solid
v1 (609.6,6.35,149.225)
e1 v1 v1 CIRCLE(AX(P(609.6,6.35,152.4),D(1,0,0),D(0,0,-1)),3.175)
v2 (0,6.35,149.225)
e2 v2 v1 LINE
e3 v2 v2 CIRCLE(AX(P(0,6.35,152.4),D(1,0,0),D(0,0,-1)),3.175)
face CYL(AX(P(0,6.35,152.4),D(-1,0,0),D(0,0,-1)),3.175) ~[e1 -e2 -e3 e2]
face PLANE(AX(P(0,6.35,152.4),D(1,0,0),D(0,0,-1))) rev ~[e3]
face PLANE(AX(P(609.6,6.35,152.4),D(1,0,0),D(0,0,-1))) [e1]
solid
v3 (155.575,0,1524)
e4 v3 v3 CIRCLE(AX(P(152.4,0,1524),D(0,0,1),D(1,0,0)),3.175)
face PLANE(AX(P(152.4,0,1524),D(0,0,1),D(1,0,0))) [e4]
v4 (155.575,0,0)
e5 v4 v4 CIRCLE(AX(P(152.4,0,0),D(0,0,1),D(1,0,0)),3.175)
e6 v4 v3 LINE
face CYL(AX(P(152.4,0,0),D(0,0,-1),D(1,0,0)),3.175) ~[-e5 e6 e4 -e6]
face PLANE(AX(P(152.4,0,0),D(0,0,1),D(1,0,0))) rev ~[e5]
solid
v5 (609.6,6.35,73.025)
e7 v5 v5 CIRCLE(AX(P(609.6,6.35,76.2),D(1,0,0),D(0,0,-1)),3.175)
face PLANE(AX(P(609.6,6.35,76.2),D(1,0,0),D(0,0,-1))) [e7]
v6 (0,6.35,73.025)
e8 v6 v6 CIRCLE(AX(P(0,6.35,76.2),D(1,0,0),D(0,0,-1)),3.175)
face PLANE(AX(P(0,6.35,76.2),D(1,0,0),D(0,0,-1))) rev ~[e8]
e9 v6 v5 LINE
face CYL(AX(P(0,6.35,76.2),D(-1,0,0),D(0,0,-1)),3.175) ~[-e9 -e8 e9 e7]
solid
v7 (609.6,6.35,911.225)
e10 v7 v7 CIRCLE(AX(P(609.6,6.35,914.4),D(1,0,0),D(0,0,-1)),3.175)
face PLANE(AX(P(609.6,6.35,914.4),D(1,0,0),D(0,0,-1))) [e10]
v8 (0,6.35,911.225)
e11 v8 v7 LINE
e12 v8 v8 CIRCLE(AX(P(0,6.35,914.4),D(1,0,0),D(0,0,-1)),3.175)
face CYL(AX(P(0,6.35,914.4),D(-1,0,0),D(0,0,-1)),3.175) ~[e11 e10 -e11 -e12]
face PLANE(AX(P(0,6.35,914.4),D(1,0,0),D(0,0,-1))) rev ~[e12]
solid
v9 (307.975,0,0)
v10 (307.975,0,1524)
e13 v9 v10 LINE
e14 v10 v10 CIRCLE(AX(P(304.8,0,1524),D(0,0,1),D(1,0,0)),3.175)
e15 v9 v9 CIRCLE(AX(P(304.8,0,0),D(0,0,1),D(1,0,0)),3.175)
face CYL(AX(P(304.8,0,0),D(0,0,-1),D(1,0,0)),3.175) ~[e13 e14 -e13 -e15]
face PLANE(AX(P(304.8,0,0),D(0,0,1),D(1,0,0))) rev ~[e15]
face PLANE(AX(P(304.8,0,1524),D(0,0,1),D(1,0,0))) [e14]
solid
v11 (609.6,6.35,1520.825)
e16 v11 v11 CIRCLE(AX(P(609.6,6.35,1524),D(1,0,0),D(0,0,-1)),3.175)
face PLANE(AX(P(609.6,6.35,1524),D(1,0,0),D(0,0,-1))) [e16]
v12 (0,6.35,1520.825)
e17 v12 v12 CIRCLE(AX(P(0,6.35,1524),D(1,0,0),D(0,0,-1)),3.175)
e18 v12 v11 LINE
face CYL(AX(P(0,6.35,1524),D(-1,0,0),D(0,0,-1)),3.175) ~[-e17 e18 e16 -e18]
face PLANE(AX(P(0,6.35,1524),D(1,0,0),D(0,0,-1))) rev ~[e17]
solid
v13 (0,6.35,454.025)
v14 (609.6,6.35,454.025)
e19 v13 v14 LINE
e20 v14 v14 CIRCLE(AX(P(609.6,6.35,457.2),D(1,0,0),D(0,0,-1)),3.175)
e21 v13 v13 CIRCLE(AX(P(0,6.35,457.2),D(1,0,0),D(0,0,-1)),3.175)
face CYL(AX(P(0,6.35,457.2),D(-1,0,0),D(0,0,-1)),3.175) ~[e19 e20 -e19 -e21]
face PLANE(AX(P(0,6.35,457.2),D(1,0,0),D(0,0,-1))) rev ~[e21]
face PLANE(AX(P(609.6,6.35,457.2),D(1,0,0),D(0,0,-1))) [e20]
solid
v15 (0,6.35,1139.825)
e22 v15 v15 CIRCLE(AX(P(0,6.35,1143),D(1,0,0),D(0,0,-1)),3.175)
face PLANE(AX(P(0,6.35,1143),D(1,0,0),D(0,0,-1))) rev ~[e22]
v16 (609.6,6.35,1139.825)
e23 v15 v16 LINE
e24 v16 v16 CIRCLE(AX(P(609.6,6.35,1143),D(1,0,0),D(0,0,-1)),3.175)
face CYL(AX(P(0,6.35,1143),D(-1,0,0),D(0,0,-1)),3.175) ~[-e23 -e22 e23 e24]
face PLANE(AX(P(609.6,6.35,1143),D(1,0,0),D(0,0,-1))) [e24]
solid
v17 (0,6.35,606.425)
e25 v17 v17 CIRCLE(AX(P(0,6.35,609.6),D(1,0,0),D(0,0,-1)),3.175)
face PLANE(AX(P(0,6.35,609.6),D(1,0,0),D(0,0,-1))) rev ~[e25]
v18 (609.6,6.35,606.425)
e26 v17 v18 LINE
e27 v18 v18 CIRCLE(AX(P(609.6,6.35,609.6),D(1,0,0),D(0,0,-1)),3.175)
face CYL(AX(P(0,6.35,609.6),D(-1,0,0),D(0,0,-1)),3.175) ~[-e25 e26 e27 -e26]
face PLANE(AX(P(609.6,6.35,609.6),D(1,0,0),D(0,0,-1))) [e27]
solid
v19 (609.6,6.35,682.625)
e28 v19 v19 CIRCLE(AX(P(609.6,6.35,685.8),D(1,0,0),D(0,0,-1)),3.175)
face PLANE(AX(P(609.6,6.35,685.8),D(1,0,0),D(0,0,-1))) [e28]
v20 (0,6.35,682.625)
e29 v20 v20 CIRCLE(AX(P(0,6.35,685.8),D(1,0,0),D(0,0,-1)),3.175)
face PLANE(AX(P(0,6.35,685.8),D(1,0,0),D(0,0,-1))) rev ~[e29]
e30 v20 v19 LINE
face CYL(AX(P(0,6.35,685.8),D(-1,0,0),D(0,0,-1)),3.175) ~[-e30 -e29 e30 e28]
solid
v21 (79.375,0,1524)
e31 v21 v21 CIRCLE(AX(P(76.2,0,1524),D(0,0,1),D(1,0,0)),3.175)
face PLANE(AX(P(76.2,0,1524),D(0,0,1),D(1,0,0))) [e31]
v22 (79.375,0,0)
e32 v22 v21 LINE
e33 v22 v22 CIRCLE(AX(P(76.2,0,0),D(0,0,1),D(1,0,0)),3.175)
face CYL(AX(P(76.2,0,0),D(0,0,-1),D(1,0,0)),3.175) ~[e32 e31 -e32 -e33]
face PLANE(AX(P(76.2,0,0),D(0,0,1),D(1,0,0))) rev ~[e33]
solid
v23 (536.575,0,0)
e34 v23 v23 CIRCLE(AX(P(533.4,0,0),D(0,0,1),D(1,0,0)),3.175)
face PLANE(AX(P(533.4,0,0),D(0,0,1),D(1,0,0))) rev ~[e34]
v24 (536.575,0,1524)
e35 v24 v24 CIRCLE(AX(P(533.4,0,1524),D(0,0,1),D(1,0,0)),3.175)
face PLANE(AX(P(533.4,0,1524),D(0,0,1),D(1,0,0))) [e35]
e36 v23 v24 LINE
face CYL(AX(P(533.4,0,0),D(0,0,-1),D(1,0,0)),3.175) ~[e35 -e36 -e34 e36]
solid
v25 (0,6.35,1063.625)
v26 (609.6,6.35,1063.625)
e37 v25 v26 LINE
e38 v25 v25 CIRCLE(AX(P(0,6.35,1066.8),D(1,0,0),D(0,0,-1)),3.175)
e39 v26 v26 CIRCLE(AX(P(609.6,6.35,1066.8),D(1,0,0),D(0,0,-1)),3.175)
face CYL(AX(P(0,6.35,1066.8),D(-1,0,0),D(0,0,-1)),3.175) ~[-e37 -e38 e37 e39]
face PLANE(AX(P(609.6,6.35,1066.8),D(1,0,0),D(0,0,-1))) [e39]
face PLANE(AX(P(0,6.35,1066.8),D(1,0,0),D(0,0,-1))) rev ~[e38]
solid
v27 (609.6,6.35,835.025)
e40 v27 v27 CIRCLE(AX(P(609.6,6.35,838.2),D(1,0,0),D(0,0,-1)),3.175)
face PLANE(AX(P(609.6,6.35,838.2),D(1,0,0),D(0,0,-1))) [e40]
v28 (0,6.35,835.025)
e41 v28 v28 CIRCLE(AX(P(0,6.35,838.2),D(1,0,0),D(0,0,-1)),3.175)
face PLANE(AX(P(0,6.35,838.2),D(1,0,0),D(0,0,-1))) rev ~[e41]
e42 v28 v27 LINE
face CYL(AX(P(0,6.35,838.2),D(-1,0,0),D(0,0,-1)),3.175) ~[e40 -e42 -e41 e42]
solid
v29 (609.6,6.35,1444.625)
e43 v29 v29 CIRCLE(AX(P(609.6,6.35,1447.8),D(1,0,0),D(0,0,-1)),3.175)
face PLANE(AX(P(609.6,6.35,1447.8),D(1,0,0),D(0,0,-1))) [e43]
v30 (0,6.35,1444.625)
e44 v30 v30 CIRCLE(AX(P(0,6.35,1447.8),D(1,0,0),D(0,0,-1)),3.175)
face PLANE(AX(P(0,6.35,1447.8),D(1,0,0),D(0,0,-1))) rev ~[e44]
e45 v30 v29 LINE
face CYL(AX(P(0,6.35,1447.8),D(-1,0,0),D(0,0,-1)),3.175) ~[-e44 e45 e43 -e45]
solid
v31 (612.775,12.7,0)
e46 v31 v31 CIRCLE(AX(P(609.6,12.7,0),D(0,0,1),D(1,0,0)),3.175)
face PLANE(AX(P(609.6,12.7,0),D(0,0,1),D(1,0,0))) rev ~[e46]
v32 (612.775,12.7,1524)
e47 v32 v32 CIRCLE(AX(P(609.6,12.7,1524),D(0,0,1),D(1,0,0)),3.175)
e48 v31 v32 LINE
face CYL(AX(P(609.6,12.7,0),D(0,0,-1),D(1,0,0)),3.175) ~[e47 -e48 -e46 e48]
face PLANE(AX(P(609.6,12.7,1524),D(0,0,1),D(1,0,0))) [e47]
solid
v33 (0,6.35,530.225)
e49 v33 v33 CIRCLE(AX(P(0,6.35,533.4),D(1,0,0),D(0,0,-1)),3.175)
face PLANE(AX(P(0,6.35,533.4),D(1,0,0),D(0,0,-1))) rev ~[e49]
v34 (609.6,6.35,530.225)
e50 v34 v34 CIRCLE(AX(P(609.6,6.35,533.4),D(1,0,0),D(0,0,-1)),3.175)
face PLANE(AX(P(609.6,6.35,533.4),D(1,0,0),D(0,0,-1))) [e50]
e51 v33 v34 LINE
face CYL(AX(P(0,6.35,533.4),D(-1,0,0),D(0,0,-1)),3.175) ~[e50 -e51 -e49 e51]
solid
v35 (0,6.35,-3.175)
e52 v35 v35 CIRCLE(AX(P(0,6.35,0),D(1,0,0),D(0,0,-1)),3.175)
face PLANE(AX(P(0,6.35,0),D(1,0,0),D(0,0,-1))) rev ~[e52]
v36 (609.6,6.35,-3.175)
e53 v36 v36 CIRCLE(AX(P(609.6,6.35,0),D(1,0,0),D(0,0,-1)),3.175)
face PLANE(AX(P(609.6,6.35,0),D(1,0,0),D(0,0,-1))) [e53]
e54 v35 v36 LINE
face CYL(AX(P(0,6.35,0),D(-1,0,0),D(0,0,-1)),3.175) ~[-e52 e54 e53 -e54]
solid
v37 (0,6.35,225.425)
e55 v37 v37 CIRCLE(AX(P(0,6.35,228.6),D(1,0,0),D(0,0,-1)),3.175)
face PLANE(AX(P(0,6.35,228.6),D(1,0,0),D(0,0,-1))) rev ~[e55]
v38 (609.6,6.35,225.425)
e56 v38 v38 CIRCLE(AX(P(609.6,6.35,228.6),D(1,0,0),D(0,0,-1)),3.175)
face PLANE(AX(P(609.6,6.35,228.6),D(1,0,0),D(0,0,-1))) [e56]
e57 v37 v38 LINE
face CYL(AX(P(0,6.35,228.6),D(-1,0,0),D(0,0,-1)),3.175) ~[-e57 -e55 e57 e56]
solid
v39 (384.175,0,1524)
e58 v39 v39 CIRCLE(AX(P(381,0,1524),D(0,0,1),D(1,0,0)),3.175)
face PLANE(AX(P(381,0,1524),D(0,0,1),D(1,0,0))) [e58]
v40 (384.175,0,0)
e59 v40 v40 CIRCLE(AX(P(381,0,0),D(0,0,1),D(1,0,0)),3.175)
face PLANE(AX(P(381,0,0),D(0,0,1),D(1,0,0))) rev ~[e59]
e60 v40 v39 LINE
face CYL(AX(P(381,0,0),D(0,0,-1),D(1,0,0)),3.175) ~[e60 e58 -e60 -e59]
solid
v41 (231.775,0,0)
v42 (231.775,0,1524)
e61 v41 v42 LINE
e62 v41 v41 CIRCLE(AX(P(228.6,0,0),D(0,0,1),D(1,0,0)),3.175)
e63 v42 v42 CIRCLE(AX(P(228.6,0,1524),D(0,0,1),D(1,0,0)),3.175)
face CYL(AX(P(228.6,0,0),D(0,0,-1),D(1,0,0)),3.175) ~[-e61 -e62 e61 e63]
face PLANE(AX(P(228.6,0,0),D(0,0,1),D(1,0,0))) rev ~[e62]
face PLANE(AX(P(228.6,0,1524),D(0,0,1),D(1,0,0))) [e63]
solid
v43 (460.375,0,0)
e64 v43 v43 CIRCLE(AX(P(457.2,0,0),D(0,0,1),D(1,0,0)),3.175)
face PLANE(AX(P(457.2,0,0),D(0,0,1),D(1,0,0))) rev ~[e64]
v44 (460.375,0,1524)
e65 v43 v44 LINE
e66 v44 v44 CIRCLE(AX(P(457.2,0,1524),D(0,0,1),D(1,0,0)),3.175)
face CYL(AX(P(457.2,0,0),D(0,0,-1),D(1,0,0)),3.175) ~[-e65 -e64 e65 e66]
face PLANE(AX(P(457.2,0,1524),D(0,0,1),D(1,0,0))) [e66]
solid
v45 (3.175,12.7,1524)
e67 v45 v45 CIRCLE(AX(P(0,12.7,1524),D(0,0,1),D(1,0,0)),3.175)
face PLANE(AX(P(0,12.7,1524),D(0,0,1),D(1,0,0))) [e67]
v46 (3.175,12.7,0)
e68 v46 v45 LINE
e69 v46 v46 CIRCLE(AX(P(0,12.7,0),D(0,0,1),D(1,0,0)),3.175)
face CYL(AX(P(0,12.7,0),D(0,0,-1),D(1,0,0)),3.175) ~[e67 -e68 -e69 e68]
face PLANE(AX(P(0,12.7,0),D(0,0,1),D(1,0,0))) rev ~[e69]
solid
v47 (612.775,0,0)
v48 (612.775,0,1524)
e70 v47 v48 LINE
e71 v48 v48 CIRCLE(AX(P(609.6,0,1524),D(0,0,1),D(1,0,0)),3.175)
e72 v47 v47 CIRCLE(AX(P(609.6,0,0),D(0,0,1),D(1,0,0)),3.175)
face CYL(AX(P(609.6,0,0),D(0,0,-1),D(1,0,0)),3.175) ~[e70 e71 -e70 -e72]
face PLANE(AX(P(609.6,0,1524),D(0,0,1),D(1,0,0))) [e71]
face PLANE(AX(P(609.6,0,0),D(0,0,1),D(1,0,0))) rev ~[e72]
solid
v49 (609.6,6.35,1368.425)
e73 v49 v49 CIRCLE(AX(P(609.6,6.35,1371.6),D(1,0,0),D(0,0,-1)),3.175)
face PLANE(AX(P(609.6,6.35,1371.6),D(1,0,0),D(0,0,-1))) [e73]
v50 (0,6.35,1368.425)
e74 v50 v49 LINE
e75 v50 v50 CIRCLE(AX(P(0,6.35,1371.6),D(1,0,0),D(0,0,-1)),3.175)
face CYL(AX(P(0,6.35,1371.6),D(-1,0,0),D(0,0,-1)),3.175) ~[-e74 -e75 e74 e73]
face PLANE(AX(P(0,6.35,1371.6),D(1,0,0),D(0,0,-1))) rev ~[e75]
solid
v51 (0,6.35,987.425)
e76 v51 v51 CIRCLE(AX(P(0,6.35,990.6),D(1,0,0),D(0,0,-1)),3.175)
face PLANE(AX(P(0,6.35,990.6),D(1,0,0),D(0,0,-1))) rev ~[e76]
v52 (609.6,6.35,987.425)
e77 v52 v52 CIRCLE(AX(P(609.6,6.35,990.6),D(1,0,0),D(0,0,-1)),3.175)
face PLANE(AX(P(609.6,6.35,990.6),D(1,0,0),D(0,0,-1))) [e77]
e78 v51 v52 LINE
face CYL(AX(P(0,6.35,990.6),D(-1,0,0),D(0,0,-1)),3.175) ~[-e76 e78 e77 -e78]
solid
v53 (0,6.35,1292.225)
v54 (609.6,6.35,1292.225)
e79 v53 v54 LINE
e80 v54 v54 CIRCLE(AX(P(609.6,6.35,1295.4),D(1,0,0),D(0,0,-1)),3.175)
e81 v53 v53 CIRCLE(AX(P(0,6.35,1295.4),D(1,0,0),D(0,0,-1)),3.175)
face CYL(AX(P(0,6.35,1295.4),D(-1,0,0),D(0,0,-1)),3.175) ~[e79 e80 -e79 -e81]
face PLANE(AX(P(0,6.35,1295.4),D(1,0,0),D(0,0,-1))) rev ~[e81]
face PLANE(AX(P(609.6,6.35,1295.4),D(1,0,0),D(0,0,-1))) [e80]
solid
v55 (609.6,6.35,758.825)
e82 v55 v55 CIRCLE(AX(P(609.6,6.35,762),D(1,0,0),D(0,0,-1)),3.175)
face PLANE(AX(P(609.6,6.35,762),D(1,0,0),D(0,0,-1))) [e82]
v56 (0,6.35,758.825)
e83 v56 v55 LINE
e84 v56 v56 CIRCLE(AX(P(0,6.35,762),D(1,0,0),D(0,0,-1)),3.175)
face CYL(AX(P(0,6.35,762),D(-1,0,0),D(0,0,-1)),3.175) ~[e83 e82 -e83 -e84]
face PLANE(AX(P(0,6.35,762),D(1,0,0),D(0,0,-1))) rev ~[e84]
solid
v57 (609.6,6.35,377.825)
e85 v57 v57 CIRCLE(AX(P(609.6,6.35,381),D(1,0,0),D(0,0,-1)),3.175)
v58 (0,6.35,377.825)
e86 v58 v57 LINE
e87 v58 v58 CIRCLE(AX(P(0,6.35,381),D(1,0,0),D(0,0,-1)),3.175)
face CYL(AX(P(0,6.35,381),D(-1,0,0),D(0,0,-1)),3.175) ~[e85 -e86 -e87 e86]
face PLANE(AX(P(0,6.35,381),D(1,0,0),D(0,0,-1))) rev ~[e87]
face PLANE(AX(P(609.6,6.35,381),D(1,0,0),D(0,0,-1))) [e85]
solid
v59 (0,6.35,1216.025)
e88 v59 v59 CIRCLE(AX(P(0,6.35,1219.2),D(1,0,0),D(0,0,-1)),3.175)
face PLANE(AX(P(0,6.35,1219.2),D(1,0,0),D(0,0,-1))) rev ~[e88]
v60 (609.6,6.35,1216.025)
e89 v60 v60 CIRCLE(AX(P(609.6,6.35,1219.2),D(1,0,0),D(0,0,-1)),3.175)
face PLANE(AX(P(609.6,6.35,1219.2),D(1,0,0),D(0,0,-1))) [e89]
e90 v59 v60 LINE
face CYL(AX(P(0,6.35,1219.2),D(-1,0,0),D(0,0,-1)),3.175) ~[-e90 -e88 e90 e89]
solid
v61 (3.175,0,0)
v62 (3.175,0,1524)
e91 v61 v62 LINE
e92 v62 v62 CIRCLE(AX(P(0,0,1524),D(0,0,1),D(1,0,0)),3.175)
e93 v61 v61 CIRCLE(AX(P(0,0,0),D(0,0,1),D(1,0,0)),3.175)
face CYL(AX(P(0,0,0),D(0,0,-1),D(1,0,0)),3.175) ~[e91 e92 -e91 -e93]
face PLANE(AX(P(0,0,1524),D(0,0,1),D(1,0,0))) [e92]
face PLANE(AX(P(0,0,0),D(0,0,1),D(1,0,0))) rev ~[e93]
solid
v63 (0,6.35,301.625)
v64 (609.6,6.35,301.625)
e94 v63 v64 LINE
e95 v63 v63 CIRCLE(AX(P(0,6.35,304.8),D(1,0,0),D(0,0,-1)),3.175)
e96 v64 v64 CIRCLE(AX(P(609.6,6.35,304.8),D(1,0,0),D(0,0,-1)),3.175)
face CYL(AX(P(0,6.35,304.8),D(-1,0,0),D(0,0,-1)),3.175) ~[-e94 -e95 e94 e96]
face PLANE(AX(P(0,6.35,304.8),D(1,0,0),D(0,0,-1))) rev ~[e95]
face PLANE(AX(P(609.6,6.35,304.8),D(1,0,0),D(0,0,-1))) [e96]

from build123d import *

# Parameters (mm, degrees)
SKETCH1_R              = 3.175
BOSS_EXTRUDE1_DEPTH    = 1524
BOSS_EXTRUDE1_2_DEPTH  = 1524
BOSS_EXTRUDE1_3_DEPTH  = 1524
BOSS_EXTRUDE1_4_DEPTH  = 1524
BOSS_EXTRUDE1_5_DEPTH  = 1524
BOSS_EXTRUDE1_6_DEPTH  = 1524
BOSS_EXTRUDE1_7_DEPTH  = 1524
BOSS_EXTRUDE1_8_DEPTH  = 1524
BOSS_EXTRUDE1_9_DEPTH  = 1524
BOSS_EXTRUDE1_10_DEPTH = 1524
BOSS_EXTRUDE1_11_DEPTH = 1524
SKETCH2_R              = 3.175
BOSS_EXTRUDE2_DEPTH    = 609.6
BOSS_EXTRUDE2_2_DEPTH  = 609.6
BOSS_EXTRUDE2_3_DEPTH  = 609.6
BOSS_EXTRUDE2_4_DEPTH  = 609.6
BOSS_EXTRUDE2_5_DEPTH  = 609.6
BOSS_EXTRUDE2_6_DEPTH  = 609.6
BOSS_EXTRUDE2_7_DEPTH  = 609.6
BOSS_EXTRUDE2_8_DEPTH  = 609.6
BOSS_EXTRUDE2_9_DEPTH  = 609.6
BOSS_EXTRUDE2_10_DEPTH = 609.6
BOSS_EXTRUDE2_11_DEPTH = 609.6
BOSS_EXTRUDE2_12_DEPTH = 609.6
BOSS_EXTRUDE2_13_DEPTH = 609.6
BOSS_EXTRUDE2_14_DEPTH = 609.6
BOSS_EXTRUDE2_15_DEPTH = 609.6
BOSS_EXTRUDE2_16_DEPTH = 609.6
BOSS_EXTRUDE2_17_DEPTH = 609.6
BOSS_EXTRUDE2_18_DEPTH = 609.6
BOSS_EXTRUDE2_19_DEPTH = 609.6
BOSS_EXTRUDE2_20_DEPTH = 609.6
BOSS_EXTRUDE2_21_DEPTH = 609.6


with BuildPart() as part:
    # Sketch1 → Boss-Extrude1 (new body)
    with BuildSketch(Plane.XY):
        Circle(SKETCH1_R)
    extrude(amount=BOSS_EXTRUDE1_DEPTH)


with BuildPart() as body_2:
    # Sketch1 → Boss-Extrude1 2 (new body)
    with BuildSketch(Plane.XY):
        with Locations((0, 12.7)):
            Circle(SKETCH1_R)
    extrude(amount=BOSS_EXTRUDE1_2_DEPTH)


with BuildPart() as body_3:
    # Sketch1 → Boss-Extrude1 3 (new body)
    with BuildSketch(Plane.XY):
        with Locations((76.2, 0)):
            Circle(SKETCH1_R)
    extrude(amount=BOSS_EXTRUDE1_3_DEPTH)


with BuildPart() as body_4:
    # Sketch1 → Boss-Extrude1 4 (new body)
    with BuildSketch(Plane.XY):
        with Locations((152.4, 0)):
            Circle(SKETCH1_R)
    extrude(amount=BOSS_EXTRUDE1_4_DEPTH)


with BuildPart() as body_5:
    # Sketch1 → Boss-Extrude1 5 (new body)
    with BuildSketch(Plane.XY):
        with Locations((228.6, 0)):
            Circle(SKETCH1_R)
    extrude(amount=BOSS_EXTRUDE1_5_DEPTH)


with BuildPart() as body_6:
    # Sketch1 → Boss-Extrude1 6 (new body)
    with BuildSketch(Plane.XY):
        with Locations((304.8, 0)):
            Circle(SKETCH1_R)
    extrude(amount=BOSS_EXTRUDE1_6_DEPTH)


with BuildPart() as body_7:
    # Sketch1 → Boss-Extrude1 7 (new body)
    with BuildSketch(Plane.XY):
        with Locations((381, 0)):
            Circle(SKETCH1_R)
    extrude(amount=BOSS_EXTRUDE1_7_DEPTH)


with BuildPart() as body_8:
    # Sketch1 → Boss-Extrude1 8 (new body)
    with BuildSketch(Plane.XY):
        with Locations((457.2, 0)):
            Circle(SKETCH1_R)
    extrude(amount=BOSS_EXTRUDE1_8_DEPTH)


with BuildPart() as body_9:
    # Sketch1 → Boss-Extrude1 9 (new body)
    with BuildSketch(Plane.XY):
        with Locations((533.4, 0)):
            Circle(SKETCH1_R)
    extrude(amount=BOSS_EXTRUDE1_9_DEPTH)


with BuildPart() as body_10:
    # Sketch1 → Boss-Extrude1 10 (new body)
    with BuildSketch(Plane.XY):
        with Locations((609.6, 0)):
            Circle(SKETCH1_R)
    extrude(amount=BOSS_EXTRUDE1_10_DEPTH)


with BuildPart() as body_11:
    # Sketch1 → Boss-Extrude1 11 (new body)
    with BuildSketch(Plane.XY):
        with Locations((609.6, 12.7)):
            Circle(SKETCH1_R)
    extrude(amount=BOSS_EXTRUDE1_11_DEPTH)


with BuildPart() as body_12:
    # Sketch2 → Boss-Extrude2 (new body)
    with BuildSketch(Plane(origin=(0, 0, 0), x_dir=(0, 0, -1), z_dir=(1, 0, 0))):
        with Locations((0, 6.35)):
            Circle(SKETCH2_R)
    extrude(amount=BOSS_EXTRUDE2_DEPTH)


with BuildPart() as body_13:
    # Sketch2 → Boss-Extrude2 2 (new body)
    with BuildSketch(Plane(origin=(0, 0, 0), x_dir=(0, 0, -1), z_dir=(1, 0, 0))):
        with Locations((-76.2, 6.35)):
            Circle(SKETCH2_R)
    extrude(amount=BOSS_EXTRUDE2_2_DEPTH)


with BuildPart() as body_14:
    # Sketch2 → Boss-Extrude2 3 (new body)
    with BuildSketch(Plane(origin=(0, 0, 0), x_dir=(0, 0, -1), z_dir=(1, 0, 0))):
        with Locations((-152.4, 6.35)):
            Circle(SKETCH2_R)
    extrude(amount=BOSS_EXTRUDE2_3_DEPTH)


with BuildPart() as body_15:
    # Sketch2 → Boss-Extrude2 4 (new body)
    with BuildSketch(Plane(origin=(0, 0, 0), x_dir=(0, 0, -1), z_dir=(1, 0, 0))):
        with Locations((-228.6, 6.35)):
            Circle(SKETCH2_R)
    extrude(amount=BOSS_EXTRUDE2_4_DEPTH)


with BuildPart() as body_16:
    # Sketch2 → Boss-Extrude2 5 (new body)
    with BuildSketch(Plane(origin=(0, 0, 0), x_dir=(0, 0, -1), z_dir=(1, 0, 0))):
        with Locations((-304.8, 6.35)):
            Circle(SKETCH2_R)
    extrude(amount=BOSS_EXTRUDE2_5_DEPTH)


with BuildPart() as body_17:
    # Sketch2 → Boss-Extrude2 6 (new body)
    with BuildSketch(Plane(origin=(0, 0, 0), x_dir=(0, 0, -1), z_dir=(1, 0, 0))):
        with Locations((-381, 6.35)):
            Circle(SKETCH2_R)
    extrude(amount=BOSS_EXTRUDE2_6_DEPTH)


with BuildPart() as body_18:
    # Sketch2 → Boss-Extrude2 7 (new body)
    with BuildSketch(Plane(origin=(0, 0, 0), x_dir=(0, 0, -1), z_dir=(1, 0, 0))):
        with Locations((-457.2, 6.35)):
            Circle(SKETCH2_R)
    extrude(amount=BOSS_EXTRUDE2_7_DEPTH)


with BuildPart() as body_19:
    # Sketch2 → Boss-Extrude2 8 (new body)
    with BuildSketch(Plane(origin=(0, 0, 0), x_dir=(0, 0, -1), z_dir=(1, 0, 0))):
        with Locations((-533.4, 6.35)):
            Circle(SKETCH2_R)
    extrude(amount=BOSS_EXTRUDE2_8_DEPTH)


with BuildPart() as body_20:
    # Sketch2 → Boss-Extrude2 9 (new body)
    with BuildSketch(Plane(origin=(0, 0, 0), x_dir=(0, 0, -1), z_dir=(1, 0, 0))):
        with Locations((-609.6, 6.35)):
            Circle(SKETCH2_R)
    extrude(amount=BOSS_EXTRUDE2_9_DEPTH)


with BuildPart() as body_21:
    # Sketch2 → Boss-Extrude2 10 (new body)
    with BuildSketch(Plane(origin=(0, 0, 0), x_dir=(0, 0, -1), z_dir=(1, 0, 0))):
        with Locations((-685.8, 6.35)):
            Circle(SKETCH2_R)
    extrude(amount=BOSS_EXTRUDE2_10_DEPTH)


with BuildPart() as body_22:
    # Sketch2 → Boss-Extrude2 11 (new body)
    with BuildSketch(Plane(origin=(0, 0, 0), x_dir=(0, 0, -1), z_dir=(1, 0, 0))):
        with Locations((-762, 6.35)):
            Circle(SKETCH2_R)
    extrude(amount=BOSS_EXTRUDE2_11_DEPTH)


with BuildPart() as body_23:
    # Sketch2 → Boss-Extrude2 12 (new body)
    with BuildSketch(Plane(origin=(0, 0, 0), x_dir=(0, 0, -1), z_dir=(1, 0, 0))):
        with Locations((-838.2, 6.35)):
            Circle(SKETCH2_R)
    extrude(amount=BOSS_EXTRUDE2_12_DEPTH)


with BuildPart() as body_24:
    # Sketch2 → Boss-Extrude2 13 (new body)
    with BuildSketch(Plane(origin=(0, 0, 0), x_dir=(0, 0, -1), z_dir=(1, 0, 0))):
        with Locations((-914.4, 6.35)):
            Circle(SKETCH2_R)
    extrude(amount=BOSS_EXTRUDE2_13_DEPTH)


with BuildPart() as body_25:
    # Sketch2 → Boss-Extrude2 14 (new body)
    with BuildSketch(Plane(origin=(0, 0, 0), x_dir=(0, 0, -1), z_dir=(1, 0, 0))):
        with Locations((-990.6, 6.35)):
            Circle(SKETCH2_R)
    extrude(amount=BOSS_EXTRUDE2_14_DEPTH)


with BuildPart() as body_26:
    # Sketch2 → Boss-Extrude2 15 (new body)
    with BuildSketch(Plane(origin=(0, 0, 0), x_dir=(0, 0, -1), z_dir=(1, 0, 0))):
        with Locations((-1066.8, 6.35)):
            Circle(SKETCH2_R)
    extrude(amount=BOSS_EXTRUDE2_15_DEPTH)


with BuildPart() as body_27:
    # Sketch2 → Boss-Extrude2 16 (new body)
    with BuildSketch(Plane(origin=(0, 0, 0), x_dir=(0, 0, -1), z_dir=(1, 0, 0))):
        with Locations((-1143, 6.35)):
            Circle(SKETCH2_R)
    extrude(amount=BOSS_EXTRUDE2_16_DEPTH)


with BuildPart() as body_28:
    # Sketch2 → Boss-Extrude2 17 (new body)
    with BuildSketch(Plane(origin=(0, 0, 0), x_dir=(0, 0, -1), z_dir=(1, 0, 0))):
        with Locations((-1219.2, 6.35)):
            Circle(SKETCH2_R)
    extrude(amount=BOSS_EXTRUDE2_17_DEPTH)


with BuildPart() as body_29:
    # Sketch2 → Boss-Extrude2 18 (new body)
    with BuildSketch(Plane(origin=(0, 0, 0), x_dir=(0, 0, -1), z_dir=(1, 0, 0))):
        with Locations((-1295.4, 6.35)):
            Circle(SKETCH2_R)
    extrude(amount=BOSS_EXTRUDE2_18_DEPTH)


with BuildPart() as body_30:
    # Sketch2 → Boss-Extrude2 19 (new body)
    with BuildSketch(Plane(origin=(0, 0, 0), x_dir=(0, 0, -1), z_dir=(1, 0, 0))):
        with Locations((-1371.6, 6.35)):
            Circle(SKETCH2_R)
    extrude(amount=BOSS_EXTRUDE2_19_DEPTH)


with BuildPart() as body_31:
    # Sketch2 → Boss-Extrude2 20 (new body)
    with BuildSketch(Plane(origin=(0, 0, 0), x_dir=(0, 0, -1), z_dir=(1, 0, 0))):
        with Locations((-1447.8, 6.35)):
            Circle(SKETCH2_R)
    extrude(amount=BOSS_EXTRUDE2_20_DEPTH)


with BuildPart() as body_32:
    # Sketch2 → Boss-Extrude2 21 (new body)
    with BuildSketch(Plane(origin=(0, 0, 0), x_dir=(0, 0, -1), z_dir=(1, 0, 0))):
        with Locations((-1524, 6.35)):
            Circle(SKETCH2_R)
    extrude(amount=BOSS_EXTRUDE2_21_DEPTH)


solid = Compound([part.part, body_2.part, body_3.part, body_4.part, body_5.part, body_6.part, body_7.part, body_8.part, body_9.part, body_10.part, body_11.part, body_12.part, body_13.part, body_14.part, body_15.part, body_16.part, body_17.part, body_18.part, body_19.part, body_20.part, body_21.part, body_22.part, body_23.part, body_24.part, body_25.part, body_26.part, body_27.part, body_28.part, body_29.part, body_30.part, body_31.part, body_32.part])
